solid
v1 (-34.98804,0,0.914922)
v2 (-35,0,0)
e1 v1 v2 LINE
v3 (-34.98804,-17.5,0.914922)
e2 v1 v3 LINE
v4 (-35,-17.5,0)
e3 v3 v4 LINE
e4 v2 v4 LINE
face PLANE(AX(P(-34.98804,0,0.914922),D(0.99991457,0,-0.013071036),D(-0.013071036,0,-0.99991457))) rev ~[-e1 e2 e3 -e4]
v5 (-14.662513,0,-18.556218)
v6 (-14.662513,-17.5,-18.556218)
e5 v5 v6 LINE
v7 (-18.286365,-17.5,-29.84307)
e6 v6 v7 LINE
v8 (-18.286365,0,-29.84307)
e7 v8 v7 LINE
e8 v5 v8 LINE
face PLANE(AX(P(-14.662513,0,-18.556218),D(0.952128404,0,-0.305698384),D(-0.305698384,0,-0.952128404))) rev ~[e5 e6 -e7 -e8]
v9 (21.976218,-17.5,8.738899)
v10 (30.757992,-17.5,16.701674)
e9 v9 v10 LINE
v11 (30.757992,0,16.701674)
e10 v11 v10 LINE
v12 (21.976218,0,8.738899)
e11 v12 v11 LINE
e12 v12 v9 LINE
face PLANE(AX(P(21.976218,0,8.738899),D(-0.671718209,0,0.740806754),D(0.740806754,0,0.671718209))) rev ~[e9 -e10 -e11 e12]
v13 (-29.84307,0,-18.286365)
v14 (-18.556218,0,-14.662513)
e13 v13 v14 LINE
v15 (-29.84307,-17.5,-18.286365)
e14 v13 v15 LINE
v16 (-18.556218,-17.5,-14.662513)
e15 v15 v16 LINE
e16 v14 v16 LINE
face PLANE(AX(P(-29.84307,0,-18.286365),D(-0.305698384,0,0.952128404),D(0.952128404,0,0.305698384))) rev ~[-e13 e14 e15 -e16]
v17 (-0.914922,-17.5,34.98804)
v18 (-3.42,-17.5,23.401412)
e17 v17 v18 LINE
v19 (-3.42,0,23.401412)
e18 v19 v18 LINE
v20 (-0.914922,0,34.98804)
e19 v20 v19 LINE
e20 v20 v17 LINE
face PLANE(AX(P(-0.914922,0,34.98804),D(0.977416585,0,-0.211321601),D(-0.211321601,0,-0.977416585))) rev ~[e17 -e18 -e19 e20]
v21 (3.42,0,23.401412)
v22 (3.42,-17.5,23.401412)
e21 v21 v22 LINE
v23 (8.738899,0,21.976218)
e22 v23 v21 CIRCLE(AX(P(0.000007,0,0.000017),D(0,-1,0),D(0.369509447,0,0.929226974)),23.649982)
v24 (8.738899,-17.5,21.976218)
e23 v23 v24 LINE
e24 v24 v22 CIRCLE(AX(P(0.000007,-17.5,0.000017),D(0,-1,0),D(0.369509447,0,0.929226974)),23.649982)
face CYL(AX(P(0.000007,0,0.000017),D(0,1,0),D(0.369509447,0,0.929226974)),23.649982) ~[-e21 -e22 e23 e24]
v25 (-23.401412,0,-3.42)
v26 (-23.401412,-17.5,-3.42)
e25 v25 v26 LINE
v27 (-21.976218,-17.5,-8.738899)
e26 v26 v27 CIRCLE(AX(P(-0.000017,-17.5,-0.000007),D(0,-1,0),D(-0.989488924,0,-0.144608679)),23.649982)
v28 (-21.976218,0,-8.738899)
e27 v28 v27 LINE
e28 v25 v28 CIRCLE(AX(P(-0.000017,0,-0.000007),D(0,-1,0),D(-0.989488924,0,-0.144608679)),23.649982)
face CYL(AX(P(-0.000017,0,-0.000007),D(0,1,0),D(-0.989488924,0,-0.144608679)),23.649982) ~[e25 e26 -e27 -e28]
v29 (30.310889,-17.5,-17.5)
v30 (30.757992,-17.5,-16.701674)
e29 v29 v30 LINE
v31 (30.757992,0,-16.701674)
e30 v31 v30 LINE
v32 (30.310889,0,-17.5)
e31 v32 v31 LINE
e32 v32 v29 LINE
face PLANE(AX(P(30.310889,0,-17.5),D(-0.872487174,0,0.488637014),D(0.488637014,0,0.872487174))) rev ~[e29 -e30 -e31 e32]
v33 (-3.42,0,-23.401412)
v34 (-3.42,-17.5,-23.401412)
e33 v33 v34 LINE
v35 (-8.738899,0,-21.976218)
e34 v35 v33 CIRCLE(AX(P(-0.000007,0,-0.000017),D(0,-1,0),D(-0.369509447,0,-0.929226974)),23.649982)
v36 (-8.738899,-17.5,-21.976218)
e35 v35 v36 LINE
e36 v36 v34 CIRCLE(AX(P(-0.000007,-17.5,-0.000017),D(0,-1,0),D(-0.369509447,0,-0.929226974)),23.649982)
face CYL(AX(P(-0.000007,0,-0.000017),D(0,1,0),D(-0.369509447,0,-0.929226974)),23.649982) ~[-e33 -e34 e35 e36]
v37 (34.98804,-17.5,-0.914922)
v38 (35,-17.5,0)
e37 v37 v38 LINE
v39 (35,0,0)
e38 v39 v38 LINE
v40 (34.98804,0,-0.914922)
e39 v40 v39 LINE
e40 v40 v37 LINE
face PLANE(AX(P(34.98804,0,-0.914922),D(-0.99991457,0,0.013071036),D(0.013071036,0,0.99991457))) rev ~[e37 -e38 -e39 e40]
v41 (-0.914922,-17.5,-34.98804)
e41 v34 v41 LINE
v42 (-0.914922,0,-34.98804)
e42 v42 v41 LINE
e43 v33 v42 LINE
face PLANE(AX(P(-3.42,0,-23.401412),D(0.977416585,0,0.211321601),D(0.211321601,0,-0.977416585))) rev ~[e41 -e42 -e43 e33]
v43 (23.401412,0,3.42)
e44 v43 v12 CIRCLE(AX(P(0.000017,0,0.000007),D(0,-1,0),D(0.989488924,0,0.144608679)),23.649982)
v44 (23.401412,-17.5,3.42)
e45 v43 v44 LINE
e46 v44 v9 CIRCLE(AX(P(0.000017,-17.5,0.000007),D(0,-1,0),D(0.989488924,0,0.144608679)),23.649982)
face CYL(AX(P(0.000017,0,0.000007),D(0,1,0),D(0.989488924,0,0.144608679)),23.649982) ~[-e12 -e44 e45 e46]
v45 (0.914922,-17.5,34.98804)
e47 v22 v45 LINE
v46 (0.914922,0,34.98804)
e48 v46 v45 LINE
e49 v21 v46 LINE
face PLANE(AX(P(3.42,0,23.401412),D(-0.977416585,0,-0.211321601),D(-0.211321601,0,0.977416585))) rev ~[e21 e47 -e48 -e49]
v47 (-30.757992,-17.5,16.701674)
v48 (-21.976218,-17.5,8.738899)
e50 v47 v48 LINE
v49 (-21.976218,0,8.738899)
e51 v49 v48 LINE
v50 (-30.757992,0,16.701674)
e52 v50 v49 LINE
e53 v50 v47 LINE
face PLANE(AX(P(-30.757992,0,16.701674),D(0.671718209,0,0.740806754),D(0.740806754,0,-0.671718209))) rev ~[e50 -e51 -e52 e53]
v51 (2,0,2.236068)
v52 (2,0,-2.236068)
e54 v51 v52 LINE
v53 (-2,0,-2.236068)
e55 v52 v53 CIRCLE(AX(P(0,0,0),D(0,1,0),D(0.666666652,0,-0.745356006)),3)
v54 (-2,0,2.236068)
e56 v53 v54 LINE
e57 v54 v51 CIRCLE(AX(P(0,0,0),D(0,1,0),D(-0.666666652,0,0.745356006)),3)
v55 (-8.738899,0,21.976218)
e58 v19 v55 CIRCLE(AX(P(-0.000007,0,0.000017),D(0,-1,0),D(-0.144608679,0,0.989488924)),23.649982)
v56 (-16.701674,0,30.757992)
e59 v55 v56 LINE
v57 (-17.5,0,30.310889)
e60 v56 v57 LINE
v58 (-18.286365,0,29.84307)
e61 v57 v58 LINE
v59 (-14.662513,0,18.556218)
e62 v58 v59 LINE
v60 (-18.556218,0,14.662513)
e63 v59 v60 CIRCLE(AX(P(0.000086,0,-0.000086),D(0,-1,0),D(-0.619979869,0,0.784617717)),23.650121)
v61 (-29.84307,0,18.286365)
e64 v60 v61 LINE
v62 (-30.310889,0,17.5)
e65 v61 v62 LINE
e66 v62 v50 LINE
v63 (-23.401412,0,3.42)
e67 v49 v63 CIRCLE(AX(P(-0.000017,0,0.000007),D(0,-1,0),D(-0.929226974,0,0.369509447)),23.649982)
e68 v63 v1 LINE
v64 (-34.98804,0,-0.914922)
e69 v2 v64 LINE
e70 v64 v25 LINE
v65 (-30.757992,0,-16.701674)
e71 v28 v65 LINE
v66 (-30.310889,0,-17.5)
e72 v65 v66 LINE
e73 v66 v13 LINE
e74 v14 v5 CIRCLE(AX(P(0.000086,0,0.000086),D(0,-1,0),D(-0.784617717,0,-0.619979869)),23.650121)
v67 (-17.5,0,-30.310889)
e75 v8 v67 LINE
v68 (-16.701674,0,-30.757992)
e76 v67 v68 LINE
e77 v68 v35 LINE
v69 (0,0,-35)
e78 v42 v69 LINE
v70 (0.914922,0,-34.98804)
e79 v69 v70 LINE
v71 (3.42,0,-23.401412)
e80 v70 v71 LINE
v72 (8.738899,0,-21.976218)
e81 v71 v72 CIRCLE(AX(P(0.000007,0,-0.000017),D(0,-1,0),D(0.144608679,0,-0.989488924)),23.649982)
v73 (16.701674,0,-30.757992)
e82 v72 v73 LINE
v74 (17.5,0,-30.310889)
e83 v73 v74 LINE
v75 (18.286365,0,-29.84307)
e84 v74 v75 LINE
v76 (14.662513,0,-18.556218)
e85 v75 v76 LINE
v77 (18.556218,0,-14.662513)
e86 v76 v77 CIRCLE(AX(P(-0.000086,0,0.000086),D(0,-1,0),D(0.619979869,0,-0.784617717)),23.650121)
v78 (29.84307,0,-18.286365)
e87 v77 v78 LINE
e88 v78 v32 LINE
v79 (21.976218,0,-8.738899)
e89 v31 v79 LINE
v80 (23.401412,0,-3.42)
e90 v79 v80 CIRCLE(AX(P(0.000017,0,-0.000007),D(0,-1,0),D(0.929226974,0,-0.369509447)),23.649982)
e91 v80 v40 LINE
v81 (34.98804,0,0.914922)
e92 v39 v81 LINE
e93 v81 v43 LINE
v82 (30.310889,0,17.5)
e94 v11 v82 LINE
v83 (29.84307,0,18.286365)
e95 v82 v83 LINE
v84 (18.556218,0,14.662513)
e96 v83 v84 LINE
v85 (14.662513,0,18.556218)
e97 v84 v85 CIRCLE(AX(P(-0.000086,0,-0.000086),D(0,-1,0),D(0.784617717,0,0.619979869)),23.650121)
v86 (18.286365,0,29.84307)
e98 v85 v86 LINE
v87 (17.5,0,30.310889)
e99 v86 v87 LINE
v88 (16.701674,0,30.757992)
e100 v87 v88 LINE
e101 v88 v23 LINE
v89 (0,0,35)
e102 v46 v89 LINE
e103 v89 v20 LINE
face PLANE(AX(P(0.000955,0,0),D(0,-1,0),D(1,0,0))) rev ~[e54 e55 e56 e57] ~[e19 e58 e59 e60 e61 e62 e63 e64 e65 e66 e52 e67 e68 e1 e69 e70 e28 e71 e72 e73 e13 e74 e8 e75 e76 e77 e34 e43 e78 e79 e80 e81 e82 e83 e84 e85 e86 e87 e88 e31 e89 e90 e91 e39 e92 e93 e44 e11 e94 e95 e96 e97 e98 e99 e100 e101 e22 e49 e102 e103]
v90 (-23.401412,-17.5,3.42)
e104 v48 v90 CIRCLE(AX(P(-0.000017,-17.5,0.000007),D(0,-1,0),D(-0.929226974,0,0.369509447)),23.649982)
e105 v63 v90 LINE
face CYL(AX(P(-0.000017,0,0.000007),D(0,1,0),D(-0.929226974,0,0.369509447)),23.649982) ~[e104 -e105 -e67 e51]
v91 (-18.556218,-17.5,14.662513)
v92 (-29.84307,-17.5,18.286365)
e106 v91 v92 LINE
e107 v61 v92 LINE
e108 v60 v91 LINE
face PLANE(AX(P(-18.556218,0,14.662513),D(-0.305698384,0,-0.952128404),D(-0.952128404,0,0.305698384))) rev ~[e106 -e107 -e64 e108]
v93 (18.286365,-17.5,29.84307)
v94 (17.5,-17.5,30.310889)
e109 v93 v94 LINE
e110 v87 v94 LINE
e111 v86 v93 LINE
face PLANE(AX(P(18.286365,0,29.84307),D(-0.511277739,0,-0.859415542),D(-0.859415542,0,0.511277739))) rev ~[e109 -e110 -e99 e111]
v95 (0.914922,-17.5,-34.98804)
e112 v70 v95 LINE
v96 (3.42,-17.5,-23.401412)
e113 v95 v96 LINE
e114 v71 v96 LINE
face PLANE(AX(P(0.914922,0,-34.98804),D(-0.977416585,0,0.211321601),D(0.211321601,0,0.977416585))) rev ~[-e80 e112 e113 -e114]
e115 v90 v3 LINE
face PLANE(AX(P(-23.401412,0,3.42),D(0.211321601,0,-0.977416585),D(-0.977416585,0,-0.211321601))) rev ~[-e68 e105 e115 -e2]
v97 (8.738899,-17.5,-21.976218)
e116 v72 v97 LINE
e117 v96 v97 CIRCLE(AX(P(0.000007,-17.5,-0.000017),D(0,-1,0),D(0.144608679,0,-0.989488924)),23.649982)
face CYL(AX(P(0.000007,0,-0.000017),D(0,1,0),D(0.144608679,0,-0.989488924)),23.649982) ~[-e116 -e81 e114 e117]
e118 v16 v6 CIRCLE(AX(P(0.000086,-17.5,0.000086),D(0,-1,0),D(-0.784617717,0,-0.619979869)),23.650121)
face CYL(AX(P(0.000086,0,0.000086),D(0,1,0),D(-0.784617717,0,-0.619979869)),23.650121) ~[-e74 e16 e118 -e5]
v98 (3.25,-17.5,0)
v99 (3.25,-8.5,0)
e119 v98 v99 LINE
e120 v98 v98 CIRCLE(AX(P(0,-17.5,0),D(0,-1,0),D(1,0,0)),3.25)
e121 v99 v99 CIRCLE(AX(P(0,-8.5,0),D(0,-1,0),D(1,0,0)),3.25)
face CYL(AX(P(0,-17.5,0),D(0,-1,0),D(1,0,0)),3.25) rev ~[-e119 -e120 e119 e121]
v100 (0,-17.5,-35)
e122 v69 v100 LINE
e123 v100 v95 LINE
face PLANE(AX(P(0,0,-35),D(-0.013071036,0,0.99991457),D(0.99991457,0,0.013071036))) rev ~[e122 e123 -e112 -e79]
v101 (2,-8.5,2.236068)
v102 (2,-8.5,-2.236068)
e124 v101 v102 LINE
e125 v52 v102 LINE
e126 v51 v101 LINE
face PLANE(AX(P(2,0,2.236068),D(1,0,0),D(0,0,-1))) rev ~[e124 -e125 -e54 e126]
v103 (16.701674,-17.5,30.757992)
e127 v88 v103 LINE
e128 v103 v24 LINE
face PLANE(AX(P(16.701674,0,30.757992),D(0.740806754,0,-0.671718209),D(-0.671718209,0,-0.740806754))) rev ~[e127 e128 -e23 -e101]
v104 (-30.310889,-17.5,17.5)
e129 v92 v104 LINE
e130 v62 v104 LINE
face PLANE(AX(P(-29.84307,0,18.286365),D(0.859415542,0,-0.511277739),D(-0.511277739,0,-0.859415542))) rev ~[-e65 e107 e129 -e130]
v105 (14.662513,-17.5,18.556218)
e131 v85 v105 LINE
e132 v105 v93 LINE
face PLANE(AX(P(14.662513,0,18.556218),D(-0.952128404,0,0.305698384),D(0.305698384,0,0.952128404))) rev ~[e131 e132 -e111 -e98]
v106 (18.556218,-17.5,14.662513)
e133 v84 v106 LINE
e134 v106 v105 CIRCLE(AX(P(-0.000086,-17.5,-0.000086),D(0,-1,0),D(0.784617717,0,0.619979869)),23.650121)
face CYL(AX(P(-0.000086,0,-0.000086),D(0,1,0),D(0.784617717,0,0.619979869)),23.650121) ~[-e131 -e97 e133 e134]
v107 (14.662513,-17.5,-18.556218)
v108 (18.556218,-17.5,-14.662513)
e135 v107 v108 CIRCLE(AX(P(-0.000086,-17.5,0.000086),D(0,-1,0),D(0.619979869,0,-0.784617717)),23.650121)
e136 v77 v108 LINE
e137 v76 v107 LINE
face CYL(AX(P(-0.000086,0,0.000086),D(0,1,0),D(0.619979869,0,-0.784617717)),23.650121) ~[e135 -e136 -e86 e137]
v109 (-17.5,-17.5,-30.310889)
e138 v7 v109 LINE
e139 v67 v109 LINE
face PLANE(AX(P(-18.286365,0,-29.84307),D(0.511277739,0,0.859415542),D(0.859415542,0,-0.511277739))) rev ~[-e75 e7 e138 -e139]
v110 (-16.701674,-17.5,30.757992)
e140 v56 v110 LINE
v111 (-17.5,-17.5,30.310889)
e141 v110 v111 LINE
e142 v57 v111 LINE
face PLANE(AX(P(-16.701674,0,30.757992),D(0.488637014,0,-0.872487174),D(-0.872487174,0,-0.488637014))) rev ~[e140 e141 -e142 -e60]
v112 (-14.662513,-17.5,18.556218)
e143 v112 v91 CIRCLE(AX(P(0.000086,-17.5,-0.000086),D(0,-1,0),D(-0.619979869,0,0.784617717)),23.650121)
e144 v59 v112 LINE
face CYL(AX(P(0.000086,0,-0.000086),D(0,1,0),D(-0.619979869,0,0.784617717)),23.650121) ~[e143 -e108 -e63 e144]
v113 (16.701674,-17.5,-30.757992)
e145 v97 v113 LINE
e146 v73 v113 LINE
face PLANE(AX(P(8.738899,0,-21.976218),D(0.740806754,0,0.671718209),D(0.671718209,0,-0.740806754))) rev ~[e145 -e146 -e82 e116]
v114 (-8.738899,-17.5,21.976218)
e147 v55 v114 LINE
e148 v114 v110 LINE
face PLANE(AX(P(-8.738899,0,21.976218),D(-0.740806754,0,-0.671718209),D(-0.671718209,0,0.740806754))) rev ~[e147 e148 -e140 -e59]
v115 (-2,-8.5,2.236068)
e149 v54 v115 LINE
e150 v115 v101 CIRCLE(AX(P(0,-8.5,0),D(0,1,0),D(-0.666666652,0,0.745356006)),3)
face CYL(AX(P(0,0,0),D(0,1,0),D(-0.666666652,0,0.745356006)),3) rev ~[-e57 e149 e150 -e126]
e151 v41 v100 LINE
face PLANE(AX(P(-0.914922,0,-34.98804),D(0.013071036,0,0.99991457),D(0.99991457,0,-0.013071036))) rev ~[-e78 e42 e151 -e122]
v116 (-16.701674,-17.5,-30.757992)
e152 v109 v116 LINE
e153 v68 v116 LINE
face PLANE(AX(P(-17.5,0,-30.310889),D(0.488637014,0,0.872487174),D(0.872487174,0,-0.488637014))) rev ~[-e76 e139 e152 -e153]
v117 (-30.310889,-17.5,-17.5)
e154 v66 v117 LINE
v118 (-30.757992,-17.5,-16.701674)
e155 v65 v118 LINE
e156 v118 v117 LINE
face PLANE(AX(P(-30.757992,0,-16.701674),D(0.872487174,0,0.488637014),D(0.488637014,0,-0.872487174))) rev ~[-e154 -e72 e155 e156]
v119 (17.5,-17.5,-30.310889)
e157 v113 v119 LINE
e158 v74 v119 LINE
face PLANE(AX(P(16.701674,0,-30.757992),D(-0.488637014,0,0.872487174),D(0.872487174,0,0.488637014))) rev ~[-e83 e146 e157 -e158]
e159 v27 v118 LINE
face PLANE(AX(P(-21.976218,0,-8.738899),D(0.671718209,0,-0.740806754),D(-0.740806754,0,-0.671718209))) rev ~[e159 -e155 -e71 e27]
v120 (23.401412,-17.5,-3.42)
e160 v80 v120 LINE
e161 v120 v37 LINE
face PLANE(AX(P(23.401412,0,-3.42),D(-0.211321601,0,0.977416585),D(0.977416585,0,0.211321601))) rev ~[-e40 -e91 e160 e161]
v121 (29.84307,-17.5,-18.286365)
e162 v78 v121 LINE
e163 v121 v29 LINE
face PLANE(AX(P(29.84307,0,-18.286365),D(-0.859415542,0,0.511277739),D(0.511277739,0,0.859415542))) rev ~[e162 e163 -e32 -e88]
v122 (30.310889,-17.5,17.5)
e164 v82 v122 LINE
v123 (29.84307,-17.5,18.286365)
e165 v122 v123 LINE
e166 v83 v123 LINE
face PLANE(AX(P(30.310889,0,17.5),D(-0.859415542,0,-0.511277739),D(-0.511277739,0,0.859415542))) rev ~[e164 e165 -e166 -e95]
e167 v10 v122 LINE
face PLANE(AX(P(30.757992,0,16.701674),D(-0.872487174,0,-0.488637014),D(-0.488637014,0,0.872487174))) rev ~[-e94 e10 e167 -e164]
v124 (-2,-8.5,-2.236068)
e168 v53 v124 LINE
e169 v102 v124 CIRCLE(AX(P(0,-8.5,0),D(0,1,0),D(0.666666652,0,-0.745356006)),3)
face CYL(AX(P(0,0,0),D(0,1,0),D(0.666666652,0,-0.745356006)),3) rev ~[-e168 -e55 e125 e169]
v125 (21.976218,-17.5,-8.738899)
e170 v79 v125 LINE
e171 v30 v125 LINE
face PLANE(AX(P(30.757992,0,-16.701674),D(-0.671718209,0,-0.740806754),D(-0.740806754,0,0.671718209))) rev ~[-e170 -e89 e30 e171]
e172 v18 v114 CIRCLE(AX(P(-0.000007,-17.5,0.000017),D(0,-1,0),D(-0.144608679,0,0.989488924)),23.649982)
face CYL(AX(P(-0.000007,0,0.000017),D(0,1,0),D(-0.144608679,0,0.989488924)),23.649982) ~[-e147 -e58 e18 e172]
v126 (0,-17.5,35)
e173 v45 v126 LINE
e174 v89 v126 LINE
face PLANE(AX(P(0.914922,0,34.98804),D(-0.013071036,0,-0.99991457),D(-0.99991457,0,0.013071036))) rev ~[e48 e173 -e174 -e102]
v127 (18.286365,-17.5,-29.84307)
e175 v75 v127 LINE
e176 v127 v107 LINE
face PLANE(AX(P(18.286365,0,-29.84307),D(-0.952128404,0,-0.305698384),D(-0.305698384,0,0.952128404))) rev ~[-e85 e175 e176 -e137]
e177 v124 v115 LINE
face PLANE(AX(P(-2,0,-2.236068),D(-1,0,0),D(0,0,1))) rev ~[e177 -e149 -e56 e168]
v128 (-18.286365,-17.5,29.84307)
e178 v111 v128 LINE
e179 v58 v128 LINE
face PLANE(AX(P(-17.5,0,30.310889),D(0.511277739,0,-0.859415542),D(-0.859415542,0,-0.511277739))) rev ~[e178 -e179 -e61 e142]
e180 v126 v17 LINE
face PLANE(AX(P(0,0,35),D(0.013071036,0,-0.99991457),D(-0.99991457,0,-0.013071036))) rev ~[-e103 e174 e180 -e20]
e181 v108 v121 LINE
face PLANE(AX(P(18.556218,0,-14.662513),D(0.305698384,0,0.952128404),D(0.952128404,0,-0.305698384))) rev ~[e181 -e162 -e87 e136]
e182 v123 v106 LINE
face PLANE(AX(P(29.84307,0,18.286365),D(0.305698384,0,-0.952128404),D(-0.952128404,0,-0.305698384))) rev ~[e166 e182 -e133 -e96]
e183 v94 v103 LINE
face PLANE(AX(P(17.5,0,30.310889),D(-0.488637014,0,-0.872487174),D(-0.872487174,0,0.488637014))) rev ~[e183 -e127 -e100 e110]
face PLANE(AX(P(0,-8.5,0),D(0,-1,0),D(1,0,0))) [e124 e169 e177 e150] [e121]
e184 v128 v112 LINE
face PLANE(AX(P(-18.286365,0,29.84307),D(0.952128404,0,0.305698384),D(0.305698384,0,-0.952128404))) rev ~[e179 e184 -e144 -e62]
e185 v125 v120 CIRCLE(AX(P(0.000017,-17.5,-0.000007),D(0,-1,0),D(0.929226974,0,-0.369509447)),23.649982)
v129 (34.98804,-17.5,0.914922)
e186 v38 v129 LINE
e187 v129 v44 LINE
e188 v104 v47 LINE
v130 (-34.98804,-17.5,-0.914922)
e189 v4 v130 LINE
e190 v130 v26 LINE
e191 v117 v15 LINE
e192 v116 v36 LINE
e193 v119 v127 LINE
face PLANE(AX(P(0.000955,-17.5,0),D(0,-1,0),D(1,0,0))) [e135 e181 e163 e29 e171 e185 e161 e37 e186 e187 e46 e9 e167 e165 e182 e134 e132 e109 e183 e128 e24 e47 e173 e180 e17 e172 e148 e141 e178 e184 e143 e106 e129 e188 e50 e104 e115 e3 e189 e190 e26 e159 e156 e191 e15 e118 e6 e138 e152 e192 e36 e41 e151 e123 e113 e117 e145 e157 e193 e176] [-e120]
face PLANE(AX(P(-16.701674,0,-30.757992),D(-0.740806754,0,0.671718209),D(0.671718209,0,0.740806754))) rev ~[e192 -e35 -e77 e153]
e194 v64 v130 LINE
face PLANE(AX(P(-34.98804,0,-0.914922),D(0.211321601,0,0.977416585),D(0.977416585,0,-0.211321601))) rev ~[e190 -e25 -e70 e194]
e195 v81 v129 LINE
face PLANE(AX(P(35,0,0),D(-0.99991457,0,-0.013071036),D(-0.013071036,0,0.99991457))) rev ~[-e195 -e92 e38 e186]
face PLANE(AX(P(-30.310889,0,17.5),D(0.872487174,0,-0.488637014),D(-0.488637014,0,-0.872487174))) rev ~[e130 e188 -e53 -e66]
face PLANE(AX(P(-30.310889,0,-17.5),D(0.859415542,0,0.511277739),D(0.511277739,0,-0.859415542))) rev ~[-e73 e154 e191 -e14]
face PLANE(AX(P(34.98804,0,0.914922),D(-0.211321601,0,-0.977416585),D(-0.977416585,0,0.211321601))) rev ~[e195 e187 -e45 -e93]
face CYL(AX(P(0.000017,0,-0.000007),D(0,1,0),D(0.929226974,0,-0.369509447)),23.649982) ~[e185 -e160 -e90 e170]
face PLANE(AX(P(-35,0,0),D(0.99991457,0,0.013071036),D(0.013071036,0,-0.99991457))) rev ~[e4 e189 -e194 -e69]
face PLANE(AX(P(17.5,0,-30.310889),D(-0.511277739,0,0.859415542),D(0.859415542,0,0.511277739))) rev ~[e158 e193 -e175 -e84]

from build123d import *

# Parameters (mm, degrees)
F1_DEPTH = 17.5
F3_DEPTH = 9
F4_R     = 3.25
F5_DEPTH = 9


with BuildPart() as f1:
    # F0 (on Front) → F1 (new body)
    with BuildSketch(Plane.XZ):
        with BuildLine():
            ThreePointArc((23.401412, -3.42), (23.587771, -1.714511), (23.65, 0))
            ThreePointArc((23.65, 0), (23.587771, 1.714511), (23.401412, 3.42))
            ThreePointArc((23.401412, 3.42), (22.844146, 6.12107), (21.976218, 8.738899))
            ThreePointArc((21.976218, 8.738899), (20.481501, 11.825), (18.556218, 14.662513))
            ThreePointArc((18.556218, 14.662513), (16.723075, 16.723075), (14.662513, 18.556218))
            ThreePointArc((14.662513, 18.556218), (11.825, 20.481501), (8.738899, 21.976218))
            ThreePointArc((8.738899, 21.976218), (6.12107, 22.844146), (3.42, 23.401412))
            ThreePointArc((3.42, 23.401412), (0, 23.65), (-3.42, 23.401412))
            ThreePointArc((-3.42, 23.401412), (-6.12107, 22.844146), (-8.738899, 21.976218))
            ThreePointArc((-8.738899, 21.976218), (-11.825, 20.481501), (-14.662513, 18.556218))
            ThreePointArc((-14.662513, 18.556218), (-16.723075, 16.723075), (-18.556218, 14.662513))
            ThreePointArc((-18.556218, 14.662513), (-20.481501, 11.825), (-21.976218, 8.738899))
            ThreePointArc((-21.976218, 8.738899), (-22.844146, 6.12107), (-23.401412, 3.42))
            ThreePointArc((-23.401412, 3.42), (-23.65, 0), (-23.401412, -3.42))
            ThreePointArc((-23.401412, -3.42), (-22.844146, -6.12107), (-21.976218, -8.738899))
            ThreePointArc((-21.976218, -8.738899), (-20.481501, -11.825), (-18.556218, -14.662513))
            ThreePointArc((-18.556218, -14.662513), (-16.723075, -16.723075), (-14.662513, -18.556218))
            ThreePointArc((-14.662513, -18.556218), (-11.825, -20.481501), (-8.738899, -21.976218))
            ThreePointArc((-8.738899, -21.976218), (-6.12107, -22.844146), (-3.42, -23.401412))
            ThreePointArc((-3.42, -23.401412), (0, -23.65), (3.42, -23.401412))
            ThreePointArc((3.42, -23.401412), (6.12107, -22.844146), (8.738899, -21.976218))
            ThreePointArc((8.738899, -21.976218), (11.825, -20.481501), (14.662513, -18.556218))
            ThreePointArc((14.662513, -18.556218), (16.723075, -16.723075), (18.556218, -14.662513))
            ThreePointArc((18.556218, -14.662513), (20.481501, -11.825), (21.976218, -8.738899))
            ThreePointArc((21.976218, -8.738899), (22.844146, -6.12107), (23.401412, -3.42))
        make_face()
        with BuildLine():
            ThreePointArc((23.401412, 3.42), (23.587771, 1.714511), (23.65, 0))
            ThreePointArc((23.65, 0), (23.587771, -1.714511), (23.401412, -3.42))
            Line((23.401412, -3.42), (34.98804, -0.914922))
            Line((34.98804, -0.914922), (35, 0))
            Line((35, 0), (34.98804, 0.914922))
            Line((34.98804, 0.914922), (23.401412, 3.42))
        make_face()
        with BuildLine():
            ThreePointArc((18.556218, 14.662513), (20.481501, 11.825), (21.976218, 8.738899))
            Line((21.976218, 8.738899), (30.757992, 16.701674))
            Line((30.757992, 16.701674), (30.310889, 17.5))
            Line((30.310889, 17.5), (29.84307, 18.286365))
            Line((29.84307, 18.286365), (18.556218, 14.662513))
        make_face()
        with BuildLine():
            Line((30.757992, -16.701674), (21.976218, -8.738899))
            ThreePointArc((21.976218, -8.738899), (20.481501, -11.825), (18.556218, -14.662513))
            Line((18.556218, -14.662513), (29.84307, -18.286365))
            Line((29.84307, -18.286365), (30.310889, -17.5))
            Line((30.310889, -17.5), (30.757992, -16.701674))
        make_face()
        with BuildLine():
            ThreePointArc((8.738899, 21.976218), (11.825, 20.481501), (14.662513, 18.556218))
            Line((14.662513, 18.556218), (18.286365, 29.84307))
            Line((18.286365, 29.84307), (17.5, 30.310889))
            Line((17.5, 30.310889), (16.701674, 30.757992))
            Line((16.701674, 30.757992), (8.738899, 21.976218))
        make_face()
        with BuildLine():
            Line((18.286365, -29.84307), (14.662513, -18.556218))
            ThreePointArc((14.662513, -18.556218), (11.825, -20.481501), (8.738899, -21.976218))
            Line((8.738899, -21.976218), (16.701674, -30.757992))
            Line((16.701674, -30.757992), (17.5, -30.310889))
            Line((17.5, -30.310889), (18.286365, -29.84307))
        make_face()
        with BuildLine():
            ThreePointArc((-3.42, 23.401412), (0, 23.65), (3.42, 23.401412))
            Line((3.42, 23.401412), (0.914922, 34.98804))
            Line((0.914922, 34.98804), (0, 35))
            Line((0, 35), (-0.914922, 34.98804))
            Line((-0.914922, 34.98804), (-3.42, 23.401412))
        make_face()
        with BuildLine():
            Line((0.914922, -34.98804), (3.42, -23.401412))
            ThreePointArc((3.42, -23.401412), (0, -23.65), (-3.42, -23.401412))
            Line((-3.42, -23.401412), (-0.914922, -34.98804))
            Line((-0.914922, -34.98804), (0, -35))
            Line((0, -35), (0.914922, -34.98804))
        make_face()
        with BuildLine():
            ThreePointArc((-14.662513, 18.556218), (-11.825, 20.481501), (-8.738899, 21.976218))
            Line((-8.738899, 21.976218), (-16.701674, 30.757992))
            Line((-16.701674, 30.757992), (-17.5, 30.310889))
            Line((-17.5, 30.310889), (-18.286365, 29.84307))
            Line((-18.286365, 29.84307), (-14.662513, 18.556218))
        make_face()
        with BuildLine():
            Line((-16.701674, -30.757992), (-8.738899, -21.976218))
            ThreePointArc((-8.738899, -21.976218), (-11.825, -20.481501), (-14.662513, -18.556218))
            Line((-14.662513, -18.556218), (-18.286365, -29.84307))
            Line((-18.286365, -29.84307), (-17.5, -30.310889))
            Line((-17.5, -30.310889), (-16.701674, -30.757992))
        make_face()
        with BuildLine():
            ThreePointArc((-21.976218, 8.738899), (-20.481501, 11.825), (-18.556218, 14.662513))
            Line((-18.556218, 14.662513), (-29.84307, 18.286365))
            Line((-29.84307, 18.286365), (-30.310889, 17.5))
            Line((-30.310889, 17.5), (-30.757992, 16.701674))
            Line((-30.757992, 16.701674), (-21.976218, 8.738899))
        make_face()
        with BuildLine():
            Line((-29.84307, -18.286365), (-18.556218, -14.662513))
            ThreePointArc((-18.556218, -14.662513), (-20.481501, -11.825), (-21.976218, -8.738899))
            Line((-21.976218, -8.738899), (-30.757992, -16.701674))
            Line((-30.757992, -16.701674), (-30.310889, -17.5))
            Line((-30.310889, -17.5), (-29.84307, -18.286365))
        make_face()
        with BuildLine():
            ThreePointArc((-23.401412, -3.42), (-23.65, 0), (-23.401412, 3.42))
            Line((-23.401412, 3.42), (-34.98804, 0.914922))
            Line((-34.98804, 0.914922), (-35, 0))
            Line((-35, 0), (-34.98804, -0.914922))
            Line((-34.98804, -0.914922), (-23.401412, -3.42))
        make_face()
    extrude(amount=F1_DEPTH)

    # F2 (on face) → F3 (cut)
    with BuildSketch(Plane(origin=(0, 0, 0), x_dir=(-1, 0, 0), z_dir=(0, 1, 0))):
        with BuildLine():
            Line((2, -2.236068), (2, 2.236068))
            ThreePointArc((2, 2.236068), (0, 3), (-2, 2.236068))
            Line((-2, 2.236068), (-2, -2.236068))
            ThreePointArc((-2, -2.236068), (0, -3), (2, -2.236068))
        make_face()
    extrude(amount=-F3_DEPTH, mode=Mode.SUBTRACT)

    # F4 (on face) → F5 (cut)
    with BuildSketch(Plane.XZ.offset(17.5)):
        Circle(F4_R)
    extrude(amount=-F5_DEPTH, mode=Mode.SUBTRACT)


solid = f1.part
